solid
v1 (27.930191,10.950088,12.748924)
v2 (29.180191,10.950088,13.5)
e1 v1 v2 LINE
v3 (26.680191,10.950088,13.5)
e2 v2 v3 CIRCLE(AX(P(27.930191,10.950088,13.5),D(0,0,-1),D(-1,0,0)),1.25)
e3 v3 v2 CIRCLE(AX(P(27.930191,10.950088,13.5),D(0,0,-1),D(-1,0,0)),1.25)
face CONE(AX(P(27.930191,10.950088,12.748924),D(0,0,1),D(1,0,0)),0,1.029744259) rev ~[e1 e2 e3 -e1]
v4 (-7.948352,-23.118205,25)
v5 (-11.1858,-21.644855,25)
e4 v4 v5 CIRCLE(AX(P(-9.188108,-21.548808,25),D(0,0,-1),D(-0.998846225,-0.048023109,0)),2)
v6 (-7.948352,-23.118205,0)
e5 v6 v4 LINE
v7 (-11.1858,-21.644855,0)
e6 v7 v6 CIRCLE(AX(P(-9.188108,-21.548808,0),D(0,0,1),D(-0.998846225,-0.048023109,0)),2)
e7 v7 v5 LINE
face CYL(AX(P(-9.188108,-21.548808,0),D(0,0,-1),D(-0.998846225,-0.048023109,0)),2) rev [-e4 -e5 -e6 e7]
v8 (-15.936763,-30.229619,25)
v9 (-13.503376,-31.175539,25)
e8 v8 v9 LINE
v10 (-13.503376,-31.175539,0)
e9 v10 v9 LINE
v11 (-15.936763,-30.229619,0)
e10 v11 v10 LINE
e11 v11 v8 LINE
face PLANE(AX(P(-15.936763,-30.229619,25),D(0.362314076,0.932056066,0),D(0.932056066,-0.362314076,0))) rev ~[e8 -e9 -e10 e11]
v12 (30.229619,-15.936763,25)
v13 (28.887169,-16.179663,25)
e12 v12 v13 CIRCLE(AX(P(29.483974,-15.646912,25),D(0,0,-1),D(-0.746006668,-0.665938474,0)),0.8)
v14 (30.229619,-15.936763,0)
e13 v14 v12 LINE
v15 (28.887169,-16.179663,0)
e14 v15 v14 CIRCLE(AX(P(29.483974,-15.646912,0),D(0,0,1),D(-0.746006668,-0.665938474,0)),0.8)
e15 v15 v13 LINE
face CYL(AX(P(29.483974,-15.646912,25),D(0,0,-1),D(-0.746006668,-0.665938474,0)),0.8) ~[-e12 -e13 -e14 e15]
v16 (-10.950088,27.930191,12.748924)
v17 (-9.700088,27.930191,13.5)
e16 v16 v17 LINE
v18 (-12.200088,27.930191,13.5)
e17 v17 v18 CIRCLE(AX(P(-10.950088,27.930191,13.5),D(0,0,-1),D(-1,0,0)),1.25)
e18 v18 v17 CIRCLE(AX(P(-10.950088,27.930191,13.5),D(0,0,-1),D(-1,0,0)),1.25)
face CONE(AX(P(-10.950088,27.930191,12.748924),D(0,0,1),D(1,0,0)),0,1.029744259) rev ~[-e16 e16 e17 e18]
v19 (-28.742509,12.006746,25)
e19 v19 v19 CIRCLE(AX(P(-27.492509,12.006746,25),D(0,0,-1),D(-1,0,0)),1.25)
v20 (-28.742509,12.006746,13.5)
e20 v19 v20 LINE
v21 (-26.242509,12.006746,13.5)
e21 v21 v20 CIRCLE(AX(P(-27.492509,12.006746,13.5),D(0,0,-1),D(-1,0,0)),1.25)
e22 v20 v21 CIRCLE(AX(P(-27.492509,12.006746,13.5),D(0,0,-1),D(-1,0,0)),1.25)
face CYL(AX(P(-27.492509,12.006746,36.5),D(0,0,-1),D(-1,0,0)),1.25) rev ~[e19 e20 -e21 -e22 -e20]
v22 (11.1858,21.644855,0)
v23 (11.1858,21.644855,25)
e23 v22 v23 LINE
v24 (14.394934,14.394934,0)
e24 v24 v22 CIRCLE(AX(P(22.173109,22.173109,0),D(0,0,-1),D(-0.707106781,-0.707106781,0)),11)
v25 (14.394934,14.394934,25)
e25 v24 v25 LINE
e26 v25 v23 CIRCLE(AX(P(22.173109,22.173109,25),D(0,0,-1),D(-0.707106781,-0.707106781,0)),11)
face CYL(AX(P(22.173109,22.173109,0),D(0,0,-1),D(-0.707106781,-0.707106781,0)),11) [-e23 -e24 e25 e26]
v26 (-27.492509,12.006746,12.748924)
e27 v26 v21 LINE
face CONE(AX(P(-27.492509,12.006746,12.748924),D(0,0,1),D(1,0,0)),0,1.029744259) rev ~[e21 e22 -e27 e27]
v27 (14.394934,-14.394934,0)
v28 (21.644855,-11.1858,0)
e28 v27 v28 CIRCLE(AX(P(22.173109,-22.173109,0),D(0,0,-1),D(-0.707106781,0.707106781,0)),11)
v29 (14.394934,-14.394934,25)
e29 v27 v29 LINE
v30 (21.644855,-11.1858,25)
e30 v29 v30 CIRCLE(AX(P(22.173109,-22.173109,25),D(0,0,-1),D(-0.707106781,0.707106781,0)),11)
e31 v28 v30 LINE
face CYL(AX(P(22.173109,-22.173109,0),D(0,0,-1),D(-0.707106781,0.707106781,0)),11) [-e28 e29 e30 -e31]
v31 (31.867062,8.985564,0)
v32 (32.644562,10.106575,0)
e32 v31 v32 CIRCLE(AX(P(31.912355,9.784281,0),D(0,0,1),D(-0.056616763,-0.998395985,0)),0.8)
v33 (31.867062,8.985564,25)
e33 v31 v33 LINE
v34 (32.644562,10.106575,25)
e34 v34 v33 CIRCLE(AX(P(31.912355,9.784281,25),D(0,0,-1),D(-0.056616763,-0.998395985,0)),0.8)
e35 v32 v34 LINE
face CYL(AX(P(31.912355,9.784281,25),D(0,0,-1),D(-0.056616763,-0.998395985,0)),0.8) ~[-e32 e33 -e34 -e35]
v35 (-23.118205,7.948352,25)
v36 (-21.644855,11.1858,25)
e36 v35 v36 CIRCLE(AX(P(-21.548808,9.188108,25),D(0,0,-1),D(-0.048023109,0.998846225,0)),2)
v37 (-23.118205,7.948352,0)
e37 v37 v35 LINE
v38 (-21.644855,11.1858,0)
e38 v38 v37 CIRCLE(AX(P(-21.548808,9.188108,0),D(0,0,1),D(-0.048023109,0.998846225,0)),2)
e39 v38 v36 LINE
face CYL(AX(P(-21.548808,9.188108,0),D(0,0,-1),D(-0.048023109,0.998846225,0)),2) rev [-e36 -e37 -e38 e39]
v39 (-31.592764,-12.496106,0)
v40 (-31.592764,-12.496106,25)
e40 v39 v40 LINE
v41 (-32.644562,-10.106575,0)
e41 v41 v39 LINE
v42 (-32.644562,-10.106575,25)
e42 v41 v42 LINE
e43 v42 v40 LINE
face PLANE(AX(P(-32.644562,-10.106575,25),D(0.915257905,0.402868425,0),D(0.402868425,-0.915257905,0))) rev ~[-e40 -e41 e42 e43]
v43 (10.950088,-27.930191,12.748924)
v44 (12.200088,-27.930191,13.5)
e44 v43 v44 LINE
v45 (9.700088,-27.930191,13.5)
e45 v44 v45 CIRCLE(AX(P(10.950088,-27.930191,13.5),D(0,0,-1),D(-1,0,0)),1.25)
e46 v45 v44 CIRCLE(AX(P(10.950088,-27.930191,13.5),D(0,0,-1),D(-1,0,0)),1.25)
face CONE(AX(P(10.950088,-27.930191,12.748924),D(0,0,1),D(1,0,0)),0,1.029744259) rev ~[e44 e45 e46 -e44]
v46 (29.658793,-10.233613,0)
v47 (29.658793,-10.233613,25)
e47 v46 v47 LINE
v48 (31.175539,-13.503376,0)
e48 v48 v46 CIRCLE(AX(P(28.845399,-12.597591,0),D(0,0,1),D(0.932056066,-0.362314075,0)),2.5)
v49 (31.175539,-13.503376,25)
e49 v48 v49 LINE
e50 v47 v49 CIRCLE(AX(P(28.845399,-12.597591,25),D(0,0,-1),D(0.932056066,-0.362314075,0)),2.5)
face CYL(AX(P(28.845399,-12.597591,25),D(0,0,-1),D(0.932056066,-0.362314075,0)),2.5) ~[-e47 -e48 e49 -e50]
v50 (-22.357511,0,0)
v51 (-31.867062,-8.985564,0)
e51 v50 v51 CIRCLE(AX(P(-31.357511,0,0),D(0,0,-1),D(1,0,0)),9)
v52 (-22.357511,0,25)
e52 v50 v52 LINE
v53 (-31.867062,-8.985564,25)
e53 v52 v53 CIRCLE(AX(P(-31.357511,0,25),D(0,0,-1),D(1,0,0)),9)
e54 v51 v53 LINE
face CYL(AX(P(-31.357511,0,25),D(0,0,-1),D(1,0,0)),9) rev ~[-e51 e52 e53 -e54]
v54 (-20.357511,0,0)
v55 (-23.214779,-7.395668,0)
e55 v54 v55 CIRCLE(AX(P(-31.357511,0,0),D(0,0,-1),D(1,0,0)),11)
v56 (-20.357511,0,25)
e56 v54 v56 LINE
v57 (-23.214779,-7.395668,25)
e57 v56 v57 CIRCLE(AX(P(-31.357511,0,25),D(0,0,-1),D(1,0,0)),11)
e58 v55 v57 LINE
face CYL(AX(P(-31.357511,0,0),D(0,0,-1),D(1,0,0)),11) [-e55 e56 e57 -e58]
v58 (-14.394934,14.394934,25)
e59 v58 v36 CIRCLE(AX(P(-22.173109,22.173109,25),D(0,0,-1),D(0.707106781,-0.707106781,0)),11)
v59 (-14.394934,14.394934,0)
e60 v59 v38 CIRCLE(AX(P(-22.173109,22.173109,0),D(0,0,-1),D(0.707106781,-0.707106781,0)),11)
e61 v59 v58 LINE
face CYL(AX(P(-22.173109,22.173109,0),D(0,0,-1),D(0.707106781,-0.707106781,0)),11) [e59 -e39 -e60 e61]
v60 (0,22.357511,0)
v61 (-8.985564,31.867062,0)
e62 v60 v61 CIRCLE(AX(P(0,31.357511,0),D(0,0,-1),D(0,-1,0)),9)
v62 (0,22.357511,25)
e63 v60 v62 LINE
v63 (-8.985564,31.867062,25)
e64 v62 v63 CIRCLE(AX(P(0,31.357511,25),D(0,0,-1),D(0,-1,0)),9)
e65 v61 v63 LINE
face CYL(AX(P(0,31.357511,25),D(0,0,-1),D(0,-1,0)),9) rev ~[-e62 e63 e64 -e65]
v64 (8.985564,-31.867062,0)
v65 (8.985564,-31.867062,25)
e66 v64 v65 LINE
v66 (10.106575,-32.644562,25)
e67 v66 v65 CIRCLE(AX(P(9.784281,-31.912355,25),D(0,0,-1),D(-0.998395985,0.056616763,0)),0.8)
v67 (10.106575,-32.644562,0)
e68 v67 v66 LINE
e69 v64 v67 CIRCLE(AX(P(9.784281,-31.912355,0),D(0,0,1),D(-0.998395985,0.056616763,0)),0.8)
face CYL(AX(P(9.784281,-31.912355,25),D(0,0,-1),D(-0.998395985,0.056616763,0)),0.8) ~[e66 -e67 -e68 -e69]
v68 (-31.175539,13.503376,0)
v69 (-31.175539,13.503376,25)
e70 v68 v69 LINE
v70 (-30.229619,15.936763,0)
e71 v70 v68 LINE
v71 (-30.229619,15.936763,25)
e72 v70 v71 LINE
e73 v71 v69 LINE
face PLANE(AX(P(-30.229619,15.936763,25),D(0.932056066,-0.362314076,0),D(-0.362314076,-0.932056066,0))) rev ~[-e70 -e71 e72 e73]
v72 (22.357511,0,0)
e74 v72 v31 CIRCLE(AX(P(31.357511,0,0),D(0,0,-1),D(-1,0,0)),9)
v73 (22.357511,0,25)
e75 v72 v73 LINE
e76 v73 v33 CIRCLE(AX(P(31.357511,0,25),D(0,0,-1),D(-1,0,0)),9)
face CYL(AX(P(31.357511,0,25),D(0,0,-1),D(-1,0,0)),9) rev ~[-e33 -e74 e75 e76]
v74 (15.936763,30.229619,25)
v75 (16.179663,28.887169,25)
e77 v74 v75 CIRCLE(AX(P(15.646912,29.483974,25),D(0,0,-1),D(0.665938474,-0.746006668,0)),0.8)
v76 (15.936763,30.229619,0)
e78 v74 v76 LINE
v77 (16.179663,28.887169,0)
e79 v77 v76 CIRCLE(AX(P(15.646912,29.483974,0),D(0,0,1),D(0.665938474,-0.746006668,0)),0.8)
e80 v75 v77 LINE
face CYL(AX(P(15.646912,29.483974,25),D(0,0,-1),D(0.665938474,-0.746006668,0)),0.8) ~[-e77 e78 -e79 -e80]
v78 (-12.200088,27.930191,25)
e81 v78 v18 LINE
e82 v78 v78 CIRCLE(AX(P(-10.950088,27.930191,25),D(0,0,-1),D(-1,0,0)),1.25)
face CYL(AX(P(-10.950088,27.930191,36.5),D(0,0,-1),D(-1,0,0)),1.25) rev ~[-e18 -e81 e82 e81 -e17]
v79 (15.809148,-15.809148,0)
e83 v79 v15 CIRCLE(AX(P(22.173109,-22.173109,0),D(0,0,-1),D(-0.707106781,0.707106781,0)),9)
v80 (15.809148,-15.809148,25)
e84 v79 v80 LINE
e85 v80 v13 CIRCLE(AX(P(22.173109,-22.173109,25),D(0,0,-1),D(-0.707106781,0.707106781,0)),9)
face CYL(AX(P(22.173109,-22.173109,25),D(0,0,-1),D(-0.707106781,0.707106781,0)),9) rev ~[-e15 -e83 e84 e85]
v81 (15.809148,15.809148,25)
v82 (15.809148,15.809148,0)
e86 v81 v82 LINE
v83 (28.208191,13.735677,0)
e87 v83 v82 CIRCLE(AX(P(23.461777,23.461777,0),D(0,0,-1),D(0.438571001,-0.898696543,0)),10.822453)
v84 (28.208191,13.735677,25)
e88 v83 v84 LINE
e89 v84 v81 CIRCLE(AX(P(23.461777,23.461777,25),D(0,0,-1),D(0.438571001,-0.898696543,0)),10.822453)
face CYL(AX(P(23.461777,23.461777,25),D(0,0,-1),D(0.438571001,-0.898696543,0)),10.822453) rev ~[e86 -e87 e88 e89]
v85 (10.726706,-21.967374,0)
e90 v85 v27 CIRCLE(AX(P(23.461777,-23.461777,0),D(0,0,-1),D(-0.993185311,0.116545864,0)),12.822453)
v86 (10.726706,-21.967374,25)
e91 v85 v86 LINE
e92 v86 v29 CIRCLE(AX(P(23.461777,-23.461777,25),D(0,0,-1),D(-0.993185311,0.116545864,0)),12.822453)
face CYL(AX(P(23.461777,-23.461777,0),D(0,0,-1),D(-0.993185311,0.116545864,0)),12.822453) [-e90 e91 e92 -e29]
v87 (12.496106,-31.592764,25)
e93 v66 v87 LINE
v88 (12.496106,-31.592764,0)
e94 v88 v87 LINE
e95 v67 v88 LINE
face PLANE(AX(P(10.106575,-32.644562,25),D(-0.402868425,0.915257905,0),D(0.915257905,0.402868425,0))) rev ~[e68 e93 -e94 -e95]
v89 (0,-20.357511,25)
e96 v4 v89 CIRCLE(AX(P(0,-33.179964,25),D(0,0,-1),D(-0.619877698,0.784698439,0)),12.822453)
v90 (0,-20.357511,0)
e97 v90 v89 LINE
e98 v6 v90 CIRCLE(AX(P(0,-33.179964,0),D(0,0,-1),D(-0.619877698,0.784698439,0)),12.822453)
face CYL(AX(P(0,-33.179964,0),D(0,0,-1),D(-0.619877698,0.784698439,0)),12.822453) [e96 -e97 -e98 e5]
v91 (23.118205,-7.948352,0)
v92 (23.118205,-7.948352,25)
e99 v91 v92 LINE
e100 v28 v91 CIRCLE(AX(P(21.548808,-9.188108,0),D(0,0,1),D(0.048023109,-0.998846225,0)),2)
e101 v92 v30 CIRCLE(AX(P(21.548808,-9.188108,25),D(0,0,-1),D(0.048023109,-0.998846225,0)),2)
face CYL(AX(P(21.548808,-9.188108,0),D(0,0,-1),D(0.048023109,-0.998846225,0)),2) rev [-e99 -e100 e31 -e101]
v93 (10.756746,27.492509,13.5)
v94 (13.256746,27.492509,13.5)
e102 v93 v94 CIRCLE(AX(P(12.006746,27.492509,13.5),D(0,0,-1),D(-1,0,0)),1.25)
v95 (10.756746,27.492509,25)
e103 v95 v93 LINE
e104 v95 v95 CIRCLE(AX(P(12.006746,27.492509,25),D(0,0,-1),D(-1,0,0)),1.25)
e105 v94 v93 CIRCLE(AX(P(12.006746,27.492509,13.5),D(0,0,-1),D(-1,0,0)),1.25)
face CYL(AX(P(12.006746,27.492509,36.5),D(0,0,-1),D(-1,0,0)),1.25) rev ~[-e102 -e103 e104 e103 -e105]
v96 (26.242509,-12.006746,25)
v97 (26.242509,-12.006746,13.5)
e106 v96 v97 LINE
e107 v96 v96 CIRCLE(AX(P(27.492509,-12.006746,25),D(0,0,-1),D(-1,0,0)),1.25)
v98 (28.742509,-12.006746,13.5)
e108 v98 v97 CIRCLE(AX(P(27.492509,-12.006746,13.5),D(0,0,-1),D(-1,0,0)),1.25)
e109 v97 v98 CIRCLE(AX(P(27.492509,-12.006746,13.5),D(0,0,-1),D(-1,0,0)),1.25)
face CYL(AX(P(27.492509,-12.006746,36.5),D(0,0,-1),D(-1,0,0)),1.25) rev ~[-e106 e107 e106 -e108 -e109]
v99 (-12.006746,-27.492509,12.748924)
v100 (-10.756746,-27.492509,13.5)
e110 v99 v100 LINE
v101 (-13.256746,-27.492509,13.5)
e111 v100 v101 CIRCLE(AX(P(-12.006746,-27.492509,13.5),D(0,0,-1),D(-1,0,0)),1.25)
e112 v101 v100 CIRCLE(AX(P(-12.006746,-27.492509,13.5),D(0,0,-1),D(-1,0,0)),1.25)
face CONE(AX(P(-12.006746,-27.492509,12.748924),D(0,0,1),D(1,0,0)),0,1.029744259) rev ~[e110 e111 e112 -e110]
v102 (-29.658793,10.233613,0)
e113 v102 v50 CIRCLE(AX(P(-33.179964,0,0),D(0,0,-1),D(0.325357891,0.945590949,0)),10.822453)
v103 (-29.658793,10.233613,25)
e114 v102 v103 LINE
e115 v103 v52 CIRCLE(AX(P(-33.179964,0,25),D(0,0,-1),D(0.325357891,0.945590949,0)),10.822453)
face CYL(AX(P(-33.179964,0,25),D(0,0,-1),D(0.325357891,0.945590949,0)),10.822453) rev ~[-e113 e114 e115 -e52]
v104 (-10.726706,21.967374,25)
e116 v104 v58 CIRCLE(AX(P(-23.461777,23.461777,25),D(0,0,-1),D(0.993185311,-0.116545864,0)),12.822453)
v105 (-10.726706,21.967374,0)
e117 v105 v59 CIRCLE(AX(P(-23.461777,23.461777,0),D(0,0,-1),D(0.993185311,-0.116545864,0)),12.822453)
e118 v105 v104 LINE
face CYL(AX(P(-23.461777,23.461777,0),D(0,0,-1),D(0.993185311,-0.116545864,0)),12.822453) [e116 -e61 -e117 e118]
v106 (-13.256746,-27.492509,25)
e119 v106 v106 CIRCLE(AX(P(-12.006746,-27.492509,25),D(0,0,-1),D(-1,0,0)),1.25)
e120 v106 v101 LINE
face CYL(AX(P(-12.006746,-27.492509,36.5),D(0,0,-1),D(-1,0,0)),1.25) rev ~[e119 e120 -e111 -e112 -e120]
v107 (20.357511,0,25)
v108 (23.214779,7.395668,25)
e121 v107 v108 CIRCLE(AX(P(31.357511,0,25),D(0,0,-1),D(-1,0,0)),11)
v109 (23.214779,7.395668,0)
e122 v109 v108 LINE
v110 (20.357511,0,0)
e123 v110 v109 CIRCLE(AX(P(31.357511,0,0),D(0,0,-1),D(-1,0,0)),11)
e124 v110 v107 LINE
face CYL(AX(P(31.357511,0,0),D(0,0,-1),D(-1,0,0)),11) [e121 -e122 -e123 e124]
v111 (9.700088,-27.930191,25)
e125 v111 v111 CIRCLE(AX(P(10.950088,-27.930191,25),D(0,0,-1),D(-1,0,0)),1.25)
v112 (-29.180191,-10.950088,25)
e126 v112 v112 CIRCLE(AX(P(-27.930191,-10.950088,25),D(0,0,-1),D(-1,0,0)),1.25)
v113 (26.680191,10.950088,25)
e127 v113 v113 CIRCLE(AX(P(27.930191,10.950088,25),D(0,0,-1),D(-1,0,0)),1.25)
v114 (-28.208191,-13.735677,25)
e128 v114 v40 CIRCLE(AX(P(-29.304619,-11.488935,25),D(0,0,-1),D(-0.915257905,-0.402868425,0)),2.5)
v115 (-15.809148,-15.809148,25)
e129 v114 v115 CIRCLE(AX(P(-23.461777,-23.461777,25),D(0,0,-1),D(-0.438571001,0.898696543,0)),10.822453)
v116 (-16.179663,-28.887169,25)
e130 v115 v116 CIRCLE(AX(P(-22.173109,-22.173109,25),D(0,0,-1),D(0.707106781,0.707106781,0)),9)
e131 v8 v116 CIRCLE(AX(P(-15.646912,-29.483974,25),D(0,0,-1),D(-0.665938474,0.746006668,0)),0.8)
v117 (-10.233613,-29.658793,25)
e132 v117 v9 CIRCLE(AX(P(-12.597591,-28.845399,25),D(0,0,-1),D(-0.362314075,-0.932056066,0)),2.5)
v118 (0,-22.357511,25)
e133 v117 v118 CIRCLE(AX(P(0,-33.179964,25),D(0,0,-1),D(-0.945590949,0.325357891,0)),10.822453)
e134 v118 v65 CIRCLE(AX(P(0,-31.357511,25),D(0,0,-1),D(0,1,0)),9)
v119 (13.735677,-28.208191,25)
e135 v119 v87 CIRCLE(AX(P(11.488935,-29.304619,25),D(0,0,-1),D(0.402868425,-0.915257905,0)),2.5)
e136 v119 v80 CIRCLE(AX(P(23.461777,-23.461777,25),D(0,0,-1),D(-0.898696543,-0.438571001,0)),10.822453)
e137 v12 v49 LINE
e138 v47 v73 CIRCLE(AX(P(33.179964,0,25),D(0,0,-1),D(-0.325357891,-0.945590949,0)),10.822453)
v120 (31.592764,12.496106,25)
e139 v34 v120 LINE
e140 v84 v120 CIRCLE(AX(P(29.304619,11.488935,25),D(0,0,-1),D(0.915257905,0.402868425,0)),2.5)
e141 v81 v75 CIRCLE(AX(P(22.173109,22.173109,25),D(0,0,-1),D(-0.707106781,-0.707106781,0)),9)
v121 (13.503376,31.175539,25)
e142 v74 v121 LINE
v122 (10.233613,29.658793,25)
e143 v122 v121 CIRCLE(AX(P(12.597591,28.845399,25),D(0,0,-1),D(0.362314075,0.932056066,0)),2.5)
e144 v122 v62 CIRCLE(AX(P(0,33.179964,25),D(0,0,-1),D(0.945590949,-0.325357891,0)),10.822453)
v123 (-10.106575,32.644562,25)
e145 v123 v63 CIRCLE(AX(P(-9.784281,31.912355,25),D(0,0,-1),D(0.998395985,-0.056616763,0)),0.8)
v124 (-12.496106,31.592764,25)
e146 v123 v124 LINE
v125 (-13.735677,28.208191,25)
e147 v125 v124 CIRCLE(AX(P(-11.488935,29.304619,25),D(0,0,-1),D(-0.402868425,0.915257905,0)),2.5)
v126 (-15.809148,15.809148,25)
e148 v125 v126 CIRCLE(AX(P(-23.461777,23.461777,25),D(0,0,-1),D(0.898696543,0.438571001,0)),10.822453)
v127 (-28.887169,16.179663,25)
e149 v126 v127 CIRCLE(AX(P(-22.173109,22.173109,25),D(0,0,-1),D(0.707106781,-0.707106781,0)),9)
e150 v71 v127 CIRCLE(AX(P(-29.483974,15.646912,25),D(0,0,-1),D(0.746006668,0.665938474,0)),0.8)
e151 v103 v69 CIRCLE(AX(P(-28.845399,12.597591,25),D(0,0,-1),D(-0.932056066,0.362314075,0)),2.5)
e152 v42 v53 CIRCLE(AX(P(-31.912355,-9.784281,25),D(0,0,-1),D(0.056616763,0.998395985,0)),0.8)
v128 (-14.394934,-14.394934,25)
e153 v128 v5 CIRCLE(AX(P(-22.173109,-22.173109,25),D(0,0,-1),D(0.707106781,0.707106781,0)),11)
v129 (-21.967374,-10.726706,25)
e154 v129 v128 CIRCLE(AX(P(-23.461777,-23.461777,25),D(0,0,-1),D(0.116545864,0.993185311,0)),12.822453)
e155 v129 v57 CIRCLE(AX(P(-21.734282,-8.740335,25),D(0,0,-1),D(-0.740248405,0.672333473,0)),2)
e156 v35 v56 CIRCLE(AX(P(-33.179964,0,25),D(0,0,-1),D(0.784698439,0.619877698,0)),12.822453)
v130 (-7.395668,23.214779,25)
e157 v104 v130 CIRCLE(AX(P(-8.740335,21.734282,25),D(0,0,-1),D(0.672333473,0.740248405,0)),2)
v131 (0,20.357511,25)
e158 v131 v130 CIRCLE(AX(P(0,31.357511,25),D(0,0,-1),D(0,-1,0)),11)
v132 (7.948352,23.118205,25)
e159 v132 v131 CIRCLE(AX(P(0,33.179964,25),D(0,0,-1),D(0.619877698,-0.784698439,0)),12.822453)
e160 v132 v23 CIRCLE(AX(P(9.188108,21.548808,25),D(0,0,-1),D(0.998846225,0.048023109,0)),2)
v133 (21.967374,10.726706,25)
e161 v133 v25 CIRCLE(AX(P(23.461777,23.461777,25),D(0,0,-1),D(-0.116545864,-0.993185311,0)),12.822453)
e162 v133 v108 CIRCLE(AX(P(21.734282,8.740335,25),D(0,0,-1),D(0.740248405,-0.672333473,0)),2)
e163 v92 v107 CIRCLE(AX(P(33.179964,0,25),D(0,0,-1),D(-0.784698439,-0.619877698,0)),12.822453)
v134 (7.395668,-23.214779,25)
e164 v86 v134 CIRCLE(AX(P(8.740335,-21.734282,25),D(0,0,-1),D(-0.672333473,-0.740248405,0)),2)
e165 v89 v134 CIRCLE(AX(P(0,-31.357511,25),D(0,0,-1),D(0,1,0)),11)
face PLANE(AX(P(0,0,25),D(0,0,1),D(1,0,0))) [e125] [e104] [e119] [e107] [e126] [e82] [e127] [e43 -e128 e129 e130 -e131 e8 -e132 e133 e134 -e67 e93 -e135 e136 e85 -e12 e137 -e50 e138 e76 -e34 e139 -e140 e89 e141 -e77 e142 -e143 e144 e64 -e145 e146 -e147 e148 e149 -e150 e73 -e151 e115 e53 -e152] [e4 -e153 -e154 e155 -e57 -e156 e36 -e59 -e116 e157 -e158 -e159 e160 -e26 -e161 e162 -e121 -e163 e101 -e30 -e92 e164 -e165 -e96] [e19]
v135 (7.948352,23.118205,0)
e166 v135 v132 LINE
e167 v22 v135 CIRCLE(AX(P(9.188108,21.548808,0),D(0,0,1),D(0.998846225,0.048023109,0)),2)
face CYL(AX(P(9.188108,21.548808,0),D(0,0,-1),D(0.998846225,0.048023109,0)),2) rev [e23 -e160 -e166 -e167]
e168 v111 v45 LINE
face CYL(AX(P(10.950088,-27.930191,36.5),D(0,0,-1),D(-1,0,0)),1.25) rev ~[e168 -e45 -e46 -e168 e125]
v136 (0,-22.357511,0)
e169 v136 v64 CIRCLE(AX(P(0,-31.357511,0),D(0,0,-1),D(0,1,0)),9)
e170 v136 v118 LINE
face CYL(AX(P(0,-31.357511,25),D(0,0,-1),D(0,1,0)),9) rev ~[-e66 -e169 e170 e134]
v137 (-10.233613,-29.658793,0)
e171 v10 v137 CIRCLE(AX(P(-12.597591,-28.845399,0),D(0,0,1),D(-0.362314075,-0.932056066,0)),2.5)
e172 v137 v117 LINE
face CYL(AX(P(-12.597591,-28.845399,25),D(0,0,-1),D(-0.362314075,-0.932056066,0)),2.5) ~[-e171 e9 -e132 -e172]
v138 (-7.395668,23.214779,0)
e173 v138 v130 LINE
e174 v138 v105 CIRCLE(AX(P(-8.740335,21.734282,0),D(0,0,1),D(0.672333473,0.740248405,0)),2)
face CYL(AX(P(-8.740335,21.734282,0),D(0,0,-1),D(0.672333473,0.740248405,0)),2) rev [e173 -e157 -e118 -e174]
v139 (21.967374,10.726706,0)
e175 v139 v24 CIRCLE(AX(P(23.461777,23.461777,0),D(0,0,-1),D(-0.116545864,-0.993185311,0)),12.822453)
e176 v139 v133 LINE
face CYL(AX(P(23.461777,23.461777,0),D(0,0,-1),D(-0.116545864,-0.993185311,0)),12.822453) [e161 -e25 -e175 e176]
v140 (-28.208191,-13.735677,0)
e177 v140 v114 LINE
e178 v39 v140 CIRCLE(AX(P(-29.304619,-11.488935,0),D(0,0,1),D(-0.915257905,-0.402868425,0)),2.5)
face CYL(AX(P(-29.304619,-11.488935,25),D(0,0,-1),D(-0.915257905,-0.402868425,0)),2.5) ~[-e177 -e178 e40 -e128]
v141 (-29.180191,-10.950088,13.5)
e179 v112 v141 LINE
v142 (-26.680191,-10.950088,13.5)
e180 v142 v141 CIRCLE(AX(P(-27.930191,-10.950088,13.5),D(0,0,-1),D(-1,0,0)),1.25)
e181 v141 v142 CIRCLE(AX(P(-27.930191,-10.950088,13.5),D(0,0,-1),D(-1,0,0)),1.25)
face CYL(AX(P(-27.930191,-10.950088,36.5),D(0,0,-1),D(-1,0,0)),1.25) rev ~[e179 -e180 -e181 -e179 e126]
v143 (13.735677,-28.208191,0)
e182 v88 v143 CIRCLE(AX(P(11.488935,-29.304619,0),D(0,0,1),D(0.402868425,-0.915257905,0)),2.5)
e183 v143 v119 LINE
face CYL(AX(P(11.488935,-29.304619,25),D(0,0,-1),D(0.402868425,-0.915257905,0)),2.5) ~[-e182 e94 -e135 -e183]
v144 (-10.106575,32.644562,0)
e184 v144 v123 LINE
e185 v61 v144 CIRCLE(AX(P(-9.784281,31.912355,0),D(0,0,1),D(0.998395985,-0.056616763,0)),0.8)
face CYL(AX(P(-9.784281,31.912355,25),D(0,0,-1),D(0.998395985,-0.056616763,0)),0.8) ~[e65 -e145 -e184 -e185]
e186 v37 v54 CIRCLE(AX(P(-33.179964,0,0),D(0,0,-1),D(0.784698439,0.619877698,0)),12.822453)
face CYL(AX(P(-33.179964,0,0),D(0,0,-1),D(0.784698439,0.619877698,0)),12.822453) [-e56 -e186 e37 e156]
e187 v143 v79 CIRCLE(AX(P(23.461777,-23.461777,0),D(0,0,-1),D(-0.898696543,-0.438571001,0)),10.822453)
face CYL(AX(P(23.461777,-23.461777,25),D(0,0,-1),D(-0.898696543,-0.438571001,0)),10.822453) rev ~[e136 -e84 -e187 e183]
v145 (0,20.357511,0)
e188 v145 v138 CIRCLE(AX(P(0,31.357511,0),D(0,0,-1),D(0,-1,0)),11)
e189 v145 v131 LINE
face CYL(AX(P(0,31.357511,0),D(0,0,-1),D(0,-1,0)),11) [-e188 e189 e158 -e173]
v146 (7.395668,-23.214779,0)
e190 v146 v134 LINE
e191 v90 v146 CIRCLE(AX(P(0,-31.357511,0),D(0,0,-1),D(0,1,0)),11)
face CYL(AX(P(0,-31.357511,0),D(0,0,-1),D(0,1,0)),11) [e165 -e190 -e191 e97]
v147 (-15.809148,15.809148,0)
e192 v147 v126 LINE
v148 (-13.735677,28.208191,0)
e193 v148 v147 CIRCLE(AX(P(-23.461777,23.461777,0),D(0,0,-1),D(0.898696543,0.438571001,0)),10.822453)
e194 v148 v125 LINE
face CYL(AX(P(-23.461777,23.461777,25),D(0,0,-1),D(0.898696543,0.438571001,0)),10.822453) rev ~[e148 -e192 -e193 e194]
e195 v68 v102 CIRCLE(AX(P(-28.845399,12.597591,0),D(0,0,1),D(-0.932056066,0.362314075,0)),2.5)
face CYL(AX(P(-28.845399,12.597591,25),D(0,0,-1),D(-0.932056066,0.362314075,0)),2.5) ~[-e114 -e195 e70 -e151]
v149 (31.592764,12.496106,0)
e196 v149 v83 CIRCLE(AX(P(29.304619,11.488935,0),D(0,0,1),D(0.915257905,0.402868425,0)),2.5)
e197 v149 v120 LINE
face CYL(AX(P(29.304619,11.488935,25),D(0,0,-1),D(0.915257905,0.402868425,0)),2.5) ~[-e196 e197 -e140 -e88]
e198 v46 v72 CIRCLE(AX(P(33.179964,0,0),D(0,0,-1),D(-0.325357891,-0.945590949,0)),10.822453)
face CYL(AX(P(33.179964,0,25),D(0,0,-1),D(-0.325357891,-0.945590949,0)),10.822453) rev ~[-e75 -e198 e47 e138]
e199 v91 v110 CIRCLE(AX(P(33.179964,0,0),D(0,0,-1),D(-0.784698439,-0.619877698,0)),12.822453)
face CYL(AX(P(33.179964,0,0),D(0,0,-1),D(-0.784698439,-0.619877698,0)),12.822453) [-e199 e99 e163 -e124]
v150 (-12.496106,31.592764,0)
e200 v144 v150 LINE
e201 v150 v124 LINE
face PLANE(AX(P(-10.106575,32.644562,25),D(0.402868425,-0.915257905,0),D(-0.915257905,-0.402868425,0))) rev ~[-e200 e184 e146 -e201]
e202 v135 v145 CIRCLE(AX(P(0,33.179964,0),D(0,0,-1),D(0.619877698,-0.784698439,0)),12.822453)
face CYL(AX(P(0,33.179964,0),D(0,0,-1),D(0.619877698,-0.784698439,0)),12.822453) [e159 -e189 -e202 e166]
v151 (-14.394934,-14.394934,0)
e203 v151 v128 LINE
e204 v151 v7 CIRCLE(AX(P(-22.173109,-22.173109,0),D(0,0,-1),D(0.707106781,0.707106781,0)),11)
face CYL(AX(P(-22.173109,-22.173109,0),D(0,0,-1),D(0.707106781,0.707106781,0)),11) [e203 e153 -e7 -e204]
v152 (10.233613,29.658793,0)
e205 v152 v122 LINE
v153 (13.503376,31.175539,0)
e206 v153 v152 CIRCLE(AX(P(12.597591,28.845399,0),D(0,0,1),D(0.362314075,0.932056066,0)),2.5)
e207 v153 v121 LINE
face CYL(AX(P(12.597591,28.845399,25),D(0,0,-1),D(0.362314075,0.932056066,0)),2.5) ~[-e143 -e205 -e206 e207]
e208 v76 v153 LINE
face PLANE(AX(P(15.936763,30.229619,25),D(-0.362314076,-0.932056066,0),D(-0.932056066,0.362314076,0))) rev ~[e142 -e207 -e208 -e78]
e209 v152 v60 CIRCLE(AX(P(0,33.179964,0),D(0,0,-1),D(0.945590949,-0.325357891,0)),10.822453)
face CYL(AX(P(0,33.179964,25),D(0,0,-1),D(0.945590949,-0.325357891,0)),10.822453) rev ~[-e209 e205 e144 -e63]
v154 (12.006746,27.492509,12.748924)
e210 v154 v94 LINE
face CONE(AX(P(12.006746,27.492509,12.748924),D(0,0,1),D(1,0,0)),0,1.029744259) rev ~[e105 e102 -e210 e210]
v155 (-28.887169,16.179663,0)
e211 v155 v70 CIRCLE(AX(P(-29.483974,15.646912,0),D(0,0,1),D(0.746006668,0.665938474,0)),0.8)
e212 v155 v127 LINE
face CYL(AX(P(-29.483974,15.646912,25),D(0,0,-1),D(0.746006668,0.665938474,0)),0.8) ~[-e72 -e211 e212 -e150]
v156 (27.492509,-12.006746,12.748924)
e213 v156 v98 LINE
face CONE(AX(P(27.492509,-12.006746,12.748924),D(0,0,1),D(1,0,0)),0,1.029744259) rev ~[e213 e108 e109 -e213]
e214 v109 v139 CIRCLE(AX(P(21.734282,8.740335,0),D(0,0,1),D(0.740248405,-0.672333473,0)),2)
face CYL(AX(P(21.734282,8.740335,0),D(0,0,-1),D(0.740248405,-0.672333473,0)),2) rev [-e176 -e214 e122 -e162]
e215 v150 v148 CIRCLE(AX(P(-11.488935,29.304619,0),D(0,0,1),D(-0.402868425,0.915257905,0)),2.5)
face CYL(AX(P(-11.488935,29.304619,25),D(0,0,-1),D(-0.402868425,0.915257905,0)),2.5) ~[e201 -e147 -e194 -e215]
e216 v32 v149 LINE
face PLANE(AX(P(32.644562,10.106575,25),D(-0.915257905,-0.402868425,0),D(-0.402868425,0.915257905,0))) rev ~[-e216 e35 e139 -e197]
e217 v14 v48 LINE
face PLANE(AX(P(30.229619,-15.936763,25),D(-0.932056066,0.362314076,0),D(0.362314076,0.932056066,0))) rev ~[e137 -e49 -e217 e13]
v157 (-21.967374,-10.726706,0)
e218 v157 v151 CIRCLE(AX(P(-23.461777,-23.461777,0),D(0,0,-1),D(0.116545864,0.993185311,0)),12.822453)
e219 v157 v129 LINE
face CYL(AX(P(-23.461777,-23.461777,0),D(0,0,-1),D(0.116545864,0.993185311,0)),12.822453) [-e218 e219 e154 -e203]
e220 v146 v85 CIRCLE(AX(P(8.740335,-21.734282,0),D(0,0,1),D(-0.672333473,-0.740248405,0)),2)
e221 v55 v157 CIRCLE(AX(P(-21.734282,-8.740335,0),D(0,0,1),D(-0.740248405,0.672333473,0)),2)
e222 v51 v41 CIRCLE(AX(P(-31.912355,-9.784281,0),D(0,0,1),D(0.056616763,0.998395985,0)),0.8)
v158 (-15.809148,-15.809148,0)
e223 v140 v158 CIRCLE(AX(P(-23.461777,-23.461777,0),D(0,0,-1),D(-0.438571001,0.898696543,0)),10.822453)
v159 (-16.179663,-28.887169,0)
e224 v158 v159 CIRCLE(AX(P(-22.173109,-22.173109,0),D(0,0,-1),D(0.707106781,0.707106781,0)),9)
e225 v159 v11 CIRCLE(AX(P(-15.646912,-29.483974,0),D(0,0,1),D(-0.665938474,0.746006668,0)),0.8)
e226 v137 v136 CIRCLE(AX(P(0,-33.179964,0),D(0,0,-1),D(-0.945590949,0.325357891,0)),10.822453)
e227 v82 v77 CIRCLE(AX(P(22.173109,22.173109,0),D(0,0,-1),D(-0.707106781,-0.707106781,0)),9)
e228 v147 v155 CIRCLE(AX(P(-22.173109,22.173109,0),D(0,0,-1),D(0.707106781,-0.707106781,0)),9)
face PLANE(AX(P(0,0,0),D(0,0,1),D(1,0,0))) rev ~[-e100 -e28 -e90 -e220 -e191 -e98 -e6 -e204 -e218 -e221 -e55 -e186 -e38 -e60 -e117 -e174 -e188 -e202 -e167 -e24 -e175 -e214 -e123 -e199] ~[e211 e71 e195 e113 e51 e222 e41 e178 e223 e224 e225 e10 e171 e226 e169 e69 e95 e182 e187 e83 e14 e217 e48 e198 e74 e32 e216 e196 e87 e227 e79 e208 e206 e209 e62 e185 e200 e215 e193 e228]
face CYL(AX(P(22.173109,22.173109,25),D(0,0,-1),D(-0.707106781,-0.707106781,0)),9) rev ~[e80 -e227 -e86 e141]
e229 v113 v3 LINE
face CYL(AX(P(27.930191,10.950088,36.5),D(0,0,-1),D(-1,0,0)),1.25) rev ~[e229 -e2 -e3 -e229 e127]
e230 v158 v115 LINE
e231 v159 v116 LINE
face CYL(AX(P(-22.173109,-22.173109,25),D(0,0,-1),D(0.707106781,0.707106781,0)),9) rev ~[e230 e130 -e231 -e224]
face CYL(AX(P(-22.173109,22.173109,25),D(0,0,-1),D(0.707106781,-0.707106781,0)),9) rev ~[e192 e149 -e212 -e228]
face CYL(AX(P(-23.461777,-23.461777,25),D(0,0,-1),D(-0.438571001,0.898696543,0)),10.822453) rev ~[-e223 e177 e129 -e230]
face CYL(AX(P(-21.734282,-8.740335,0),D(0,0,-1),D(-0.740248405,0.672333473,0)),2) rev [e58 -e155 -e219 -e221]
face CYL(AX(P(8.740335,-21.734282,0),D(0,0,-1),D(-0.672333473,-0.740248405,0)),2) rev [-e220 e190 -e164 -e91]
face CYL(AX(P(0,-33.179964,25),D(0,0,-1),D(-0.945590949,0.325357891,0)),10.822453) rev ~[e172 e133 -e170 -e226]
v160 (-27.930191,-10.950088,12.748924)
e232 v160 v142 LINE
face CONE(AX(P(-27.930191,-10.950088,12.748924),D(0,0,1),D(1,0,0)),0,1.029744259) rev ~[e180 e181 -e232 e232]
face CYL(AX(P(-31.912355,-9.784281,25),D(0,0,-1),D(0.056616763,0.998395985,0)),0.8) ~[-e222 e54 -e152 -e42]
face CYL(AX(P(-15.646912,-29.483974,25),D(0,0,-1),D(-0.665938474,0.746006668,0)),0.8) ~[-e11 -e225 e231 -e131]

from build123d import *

# Parameters (mm, degrees)
EXTRUDE_1_DEPTH        = 25
CUT_EXTRUDE_1_DEPTH    = 53.585134746
EXTRUDE_2_DEPTH        = 4
SKETCH_4_R             = 3.5
SKETCH_4_R_2           = 1.7
SKETCH_4_R_3           = 2.3
CUT_EXTRUDE_2_DEPTH    = 55.600333298
SKETCH_5_R             = 50
CUT_EXTRUDE_3_DEPTH    = 4
HOLE_WIZARD_M3_1_D     = 2.5
HOLE_WIZARD_M3_1_DEPTH = 11.5
HOLE_WIZARD_M3_1_TIP   = 0.751075774


with BuildPart() as part:
    # 草图1 → 凸台-拉伸1 (new body)
    with BuildSketch(Plane.XY):
        with BuildLine():
            Line((15.936762996, 30.229618981), (13.50337588, 31.175538906))
            ThreePointArc((13.50337588, 31.175538906), (11.545587701, 31.113280948), (10.233613318, 29.658793469))
            ThreePointArc((10.233613318, 29.658793469), (6.285609854, 24.369935979), (0, 22.357511157))
            ThreePointArc((0, 22.357511157), (-6.541634269, 25.176328334), (-8.985563862, 31.867062025))
            ThreePointArc((-8.985563862, 31.867062025), (-9.328351981, 32.569720668), (-10.106575389, 32.644561759))
            Line((-10.106575389, 32.644561759), (-12.496106314, 31.592763621))
            ThreePointArc((-12.496106314, 31.592763621), (-13.836448588, 30.1643753), (-13.73567661, 28.208191357))
            ThreePointArc((-13.73567661, 28.208191357), (-12.787549636, 21.67674434), (-15.80914775, 15.80914775))
            ThreePointArc((-15.80914775, 15.80914775), (-22.427986442, 13.176718539), (-28.887168794, 16.179662515))
            ThreePointArc((-28.887168794, 16.179662515), (-29.626411288, 16.434129403), (-30.229618981, 15.936762996))
            Line((-30.229618981, 15.936762996), (-31.175538906, 13.50337588))
            ThreePointArc((-31.175538906, 13.50337588), (-31.113280948, 11.545587701), (-29.658793469, 10.233613318))
            ThreePointArc((-29.658793469, 10.233613318), (-24.369935979, 6.285609854), (-22.357511157, 0))
            ThreePointArc((-22.357511157, 0), (-25.176328334, -6.541634269), (-31.867062025, -8.985563862))
            ThreePointArc((-31.867062025, -8.985563862), (-32.569720668, -9.328351981), (-32.644561759, -10.106575389))
            Line((-32.644561759, -10.106575389), (-31.592763621, -12.496106314))
            ThreePointArc((-31.592763621, -12.496106314), (-30.1643753, -13.836448588), (-28.208191357, -13.73567661))
            ThreePointArc((-28.208191357, -13.73567661), (-21.67674434, -12.787549636), (-15.80914775, -15.80914775))
            ThreePointArc((-15.80914775, -15.80914775), (-13.176718539, -22.427986442), (-16.179662515, -28.887168794))
            ThreePointArc((-16.179662515, -28.887168794), (-16.434129403, -29.626411288), (-15.936762996, -30.229618981))
            Line((-15.936762996, -30.229618981), (-13.50337588, -31.175538906))
            ThreePointArc((-13.50337588, -31.175538906), (-11.545587701, -31.113280948), (-10.233613318, -29.658793469))
            ThreePointArc((-10.233613318, -29.658793469), (-6.285609854, -24.369935979), (0, -22.357511157))
            ThreePointArc((0, -22.357511157), (6.541634269, -25.176328334), (8.985563862, -31.867062025))
            ThreePointArc((8.985563862, -31.867062025), (9.328351981, -32.569720668), (10.106575389, -32.644561759))
            Line((10.106575389, -32.644561759), (12.496106314, -31.592763621))
            ThreePointArc((12.496106314, -31.592763621), (13.836448588, -30.1643753), (13.73567661, -28.208191357))
            ThreePointArc((13.73567661, -28.208191357), (12.787549636, -21.67674434), (15.80914775, -15.80914775))
            ThreePointArc((15.80914775, -15.80914775), (22.427986442, -13.176718539), (28.887168794, -16.179662515))
            ThreePointArc((28.887168794, -16.179662515), (29.626411288, -16.434129403), (30.229618981, -15.936762996))
            Line((30.229618981, -15.936762996), (31.175538906, -13.50337588))
            ThreePointArc((31.175538906, -13.50337588), (31.113280948, -11.545587701), (29.658793469, -10.233613318))
            ThreePointArc((29.658793469, -10.233613318), (24.369935979, -6.285609854), (22.357511157, 0))
            ThreePointArc((22.357511157, 0), (25.176328334, 6.541634269), (31.867062025, 8.985563862))
            ThreePointArc((31.867062025, 8.985563862), (32.569720668, 9.328351981), (32.644561759, 10.106575389))
            Line((32.644561759, 10.106575389), (31.592763621, 12.496106314))
            ThreePointArc((31.592763621, 12.496106314), (30.1643753, 13.836448588), (28.208191357, 13.73567661))
            ThreePointArc((28.208191357, 13.73567661), (21.67674434, 12.787549636), (15.80914775, 15.80914775))
            ThreePointArc((15.80914775, 15.80914775), (13.176718539, 22.427986442), (16.179662515, 28.887168794))
            ThreePointArc((16.179662515, 28.887168794), (16.434129403, 29.626411288), (15.936762996, 30.229618981))
        make_face()
    extrude(amount=EXTRUDE_1_DEPTH)

    # 草图2 → 切除-拉伸1 (cut, through all)
    with BuildSketch(Plane(origin=(0, 0, 0), x_dir=(-1, 0, 0), z_dir=(0, 0, -1))):
        with BuildLine():
            ThreePointArc((20.357511157, 0), (21.09666185, -3.964211334), (23.214778703, -7.395668204))
            ThreePointArc((23.214778703, -7.395668204), (23.607260601, -9.441727167), (21.96737362, -10.726705772))
            ThreePointArc((21.96737362, -10.726705772), (17.87170053, -11.922005636), (14.394934187, -14.394934187))
            ThreePointArc((14.394934187, -14.394934187), (12.114471938, -17.720713371), (11.185800306, -21.644854583))
            ThreePointArc((11.185800306, -21.644854583), (10.01654475, -23.369163362), (7.948352461, -23.118205243))
            ThreePointArc((7.948352461, -23.118205243), (4.207069606, -21.067331667), (0, -20.357511157))
            ThreePointArc((0, -20.357511157), (-3.964211334, -21.09666185), (-7.395668204, -23.214778703))
            ThreePointArc((-7.395668204, -23.214778703), (-9.441727167, -23.607260601), (-10.726705772, -21.96737362))
            ThreePointArc((-10.726705772, -21.96737362), (-11.922005636, -17.87170053), (-14.394934187, -14.394934187))
            ThreePointArc((-14.394934187, -14.394934187), (-17.720713371, -12.114471938), (-21.644854583, -11.185800306))
            ThreePointArc((-21.644854583, -11.185800306), (-23.369163362, -10.01654475), (-23.118205243, -7.948352461))
            ThreePointArc((-23.118205243, -7.948352461), (-21.067331667, -4.207069606), (-20.357511157, 0))
            ThreePointArc((-20.357511157, 0), (-21.09666185, 3.964211334), (-23.214778703, 7.395668204))
            ThreePointArc((-23.214778703, 7.395668204), (-23.607260601, 9.441727167), (-21.96737362, 10.726705772))
            ThreePointArc((-21.96737362, 10.726705772), (-17.87170053, 11.922005636), (-14.394934187, 14.394934187))
            ThreePointArc((-14.394934187, 14.394934187), (-12.114471938, 17.720713371), (-11.185800306, 21.644854583))
            ThreePointArc((-11.185800306, 21.644854583), (-10.01654475, 23.369163362), (-7.948352461, 23.118205243))
            ThreePointArc((-7.948352461, 23.118205243), (-4.207069606, 21.067331667), (0, 20.357511157))
            ThreePointArc((0, 20.357511157), (3.964211334, 21.09666185), (7.395668204, 23.214778703))
            ThreePointArc((7.395668204, 23.214778703), (9.441727167, 23.607260601), (10.726705772, 21.96737362))
            ThreePointArc((10.726705772, 21.96737362), (11.922005636, 17.87170053), (14.394934187, 14.394934187))
            ThreePointArc((14.394934187, 14.394934187), (17.720713371, 12.114471938), (21.644854583, 11.185800306))
            ThreePointArc((21.644854583, 11.185800306), (23.369163362, 10.01654475), (23.118205243, 7.948352461))
            ThreePointArc((23.118205243, 7.948352461), (21.067331667, 4.207069606), (20.357511157, 0))
        make_face()
    extrude(amount=-CUT_EXTRUDE_1_DEPTH, mode=Mode.SUBTRACT)

    # 草图3 → 凸台-拉伸2 (add)
    with BuildSketch(Plane.XY.offset(25)):
        with BuildLine():
            Line((15.936762996, 30.229618981), (13.50337588, 31.175538906))
            ThreePointArc((13.50337588, 31.175538906), (11.545587701, 31.113280948), (10.233613318, 29.658793469))
            ThreePointArc((10.233613318, 29.658793469), (6.285609854, 24.369935979), (0, 22.357511157))
            ThreePointArc((0, 22.357511157), (-6.541634269, 25.176328334), (-8.985563862, 31.867062025))
            ThreePointArc((-8.985563862, 31.867062025), (-9.328351981, 32.569720668), (-10.106575389, 32.644561759))
            Line((-10.106575389, 32.644561759), (-12.496106314, 31.592763621))
            ThreePointArc((-12.496106314, 31.592763621), (-13.836448588, 30.1643753), (-13.73567661, 28.208191357))
            ThreePointArc((-13.73567661, 28.208191357), (-12.787549636, 21.67674434), (-15.80914775, 15.80914775))
            ThreePointArc((-15.80914775, 15.80914775), (-22.427986442, 13.176718539), (-28.887168794, 16.179662515))
            ThreePointArc((-28.887168794, 16.179662515), (-29.626411288, 16.434129403), (-30.229618981, 15.936762996))
            Line((-30.229618981, 15.936762996), (-31.175538906, 13.50337588))
            ThreePointArc((-31.175538906, 13.50337588), (-31.113280948, 11.545587701), (-29.658793469, 10.233613318))
            ThreePointArc((-29.658793469, 10.233613318), (-24.369935979, 6.285609854), (-22.357511157, 0))
            ThreePointArc((-22.357511157, 0), (-25.176328334, -6.541634269), (-31.867062025, -8.985563862))
            ThreePointArc((-31.867062025, -8.985563862), (-32.569720668, -9.328351981), (-32.644561759, -10.106575389))
            Line((-32.644561759, -10.106575389), (-31.592763621, -12.496106314))
            ThreePointArc((-31.592763621, -12.496106314), (-30.1643753, -13.836448588), (-28.208191357, -13.73567661))
            ThreePointArc((-28.208191357, -13.73567661), (-21.67674434, -12.787549636), (-15.80914775, -15.80914775))
            ThreePointArc((-15.80914775, -15.80914775), (-13.176718539, -22.427986442), (-16.179662515, -28.887168794))
            ThreePointArc((-16.179662515, -28.887168794), (-16.434129403, -29.626411288), (-15.936762996, -30.229618981))
            Line((-15.936762996, -30.229618981), (-13.50337588, -31.175538906))
            ThreePointArc((-13.50337588, -31.175538906), (-11.545587701, -31.113280948), (-10.233613318, -29.658793469))
            ThreePointArc((-10.233613318, -29.658793469), (-6.285609854, -24.369935979), (0, -22.357511157))
            ThreePointArc((0, -22.357511157), (6.541634269, -25.176328334), (8.985563862, -31.867062025))
            ThreePointArc((8.985563862, -31.867062025), (9.328351981, -32.569720668), (10.106575389, -32.644561759))
            Line((10.106575389, -32.644561759), (12.496106314, -31.592763621))
            ThreePointArc((12.496106314, -31.592763621), (13.836448588, -30.1643753), (13.73567661, -28.208191357))
            ThreePointArc((13.73567661, -28.208191357), (12.787549636, -21.67674434), (15.80914775, -15.80914775))
            ThreePointArc((15.80914775, -15.80914775), (22.427986442, -13.176718539), (28.887168794, -16.179662515))
            ThreePointArc((28.887168794, -16.179662515), (29.626411288, -16.434129403), (30.229618981, -15.936762996))
            Line((30.229618981, -15.936762996), (31.175538906, -13.50337588))
            ThreePointArc((31.175538906, -13.50337588), (31.113280948, -11.545587701), (29.658793469, -10.233613318))
            ThreePointArc((29.658793469, -10.233613318), (24.369935979, -6.285609854), (22.357511157, 0))
            ThreePointArc((22.357511157, 0), (25.176328334, 6.541634269), (31.867062025, 8.985563862))
            ThreePointArc((31.867062025, 8.985563862), (32.569720668, 9.328351981), (32.644561759, 10.106575389))
            Line((32.644561759, 10.106575389), (31.592763621, 12.496106314))
            ThreePointArc((31.592763621, 12.496106314), (30.1643753, 13.836448588), (28.208191357, 13.73567661))
            ThreePointArc((28.208191357, 13.73567661), (21.67674434, 12.787549636), (15.80914775, 15.80914775))
            ThreePointArc((15.80914775, 15.80914775), (13.176718539, 22.427986442), (16.179662515, 28.887168794))
            ThreePointArc((16.179662515, 28.887168794), (16.434129403, 29.626411288), (15.936762996, 30.229618981))
        make_face()
    extrude(amount=EXTRUDE_2_DEPTH)

    # 草图4 → 切除-拉伸2 (cut, through all)
    with BuildSketch(Plane.XY.offset(29)):
        Circle(SKETCH_4_R)
        with Locations((8, 0)):
            Circle(SKETCH_4_R_2)
        with Locations((0, -8)):
            Circle(SKETCH_4_R_2)
        with Locations((-8, 0)):
            Circle(SKETCH_4_R_2)
        with Locations((0, 8)):
            Circle(SKETCH_4_R_2)
        with Locations((-9.234972265, 17.740216664)):
            Circle(SKETCH_4_R_3)
        with Locations((17.740216664, 9.234972265)):
            Circle(SKETCH_4_R_3)
        with Locations((9.234972265, -17.740216664)):
            Circle(SKETCH_4_R_3)
        with Locations((-17.740216664, -9.234972265)):
            Circle(SKETCH_4_R_3)
    extrude(amount=-CUT_EXTRUDE_2_DEPTH, mode=Mode.SUBTRACT)

    # 草图5 → 切除-拉伸3 (cut)
    with BuildSketch(Plane.XY.offset(29)):
        Circle(SKETCH_5_R)
    extrude(amount=-CUT_EXTRUDE_3_DEPTH, mode=Mode.SUBTRACT)

    # M3 螺纹孔1
    with Locations(Plane.XY.offset(25)):
        with Locations((-10.95008804, 27.930191047), (12.006745981, 27.492508997), (27.930191047, 10.95008804), (27.492508997, -12.006745981), (10.95008804, -27.930191047), (-12.006745981, -27.492508997), (-27.930191047, -10.95008804), (-27.492508997, 12.006745981)):
            Hole(HOLE_WIZARD_M3_1_D / 2, depth=HOLE_WIZARD_M3_1_DEPTH)
            with Locations((0, 0, -(HOLE_WIZARD_M3_1_DEPTH + HOLE_WIZARD_M3_1_TIP / 2))):  # 118° drill point
                Cone(0, HOLE_WIZARD_M3_1_D / 2, HOLE_WIZARD_M3_1_TIP, mode=Mode.SUBTRACT)


solid = part.part
